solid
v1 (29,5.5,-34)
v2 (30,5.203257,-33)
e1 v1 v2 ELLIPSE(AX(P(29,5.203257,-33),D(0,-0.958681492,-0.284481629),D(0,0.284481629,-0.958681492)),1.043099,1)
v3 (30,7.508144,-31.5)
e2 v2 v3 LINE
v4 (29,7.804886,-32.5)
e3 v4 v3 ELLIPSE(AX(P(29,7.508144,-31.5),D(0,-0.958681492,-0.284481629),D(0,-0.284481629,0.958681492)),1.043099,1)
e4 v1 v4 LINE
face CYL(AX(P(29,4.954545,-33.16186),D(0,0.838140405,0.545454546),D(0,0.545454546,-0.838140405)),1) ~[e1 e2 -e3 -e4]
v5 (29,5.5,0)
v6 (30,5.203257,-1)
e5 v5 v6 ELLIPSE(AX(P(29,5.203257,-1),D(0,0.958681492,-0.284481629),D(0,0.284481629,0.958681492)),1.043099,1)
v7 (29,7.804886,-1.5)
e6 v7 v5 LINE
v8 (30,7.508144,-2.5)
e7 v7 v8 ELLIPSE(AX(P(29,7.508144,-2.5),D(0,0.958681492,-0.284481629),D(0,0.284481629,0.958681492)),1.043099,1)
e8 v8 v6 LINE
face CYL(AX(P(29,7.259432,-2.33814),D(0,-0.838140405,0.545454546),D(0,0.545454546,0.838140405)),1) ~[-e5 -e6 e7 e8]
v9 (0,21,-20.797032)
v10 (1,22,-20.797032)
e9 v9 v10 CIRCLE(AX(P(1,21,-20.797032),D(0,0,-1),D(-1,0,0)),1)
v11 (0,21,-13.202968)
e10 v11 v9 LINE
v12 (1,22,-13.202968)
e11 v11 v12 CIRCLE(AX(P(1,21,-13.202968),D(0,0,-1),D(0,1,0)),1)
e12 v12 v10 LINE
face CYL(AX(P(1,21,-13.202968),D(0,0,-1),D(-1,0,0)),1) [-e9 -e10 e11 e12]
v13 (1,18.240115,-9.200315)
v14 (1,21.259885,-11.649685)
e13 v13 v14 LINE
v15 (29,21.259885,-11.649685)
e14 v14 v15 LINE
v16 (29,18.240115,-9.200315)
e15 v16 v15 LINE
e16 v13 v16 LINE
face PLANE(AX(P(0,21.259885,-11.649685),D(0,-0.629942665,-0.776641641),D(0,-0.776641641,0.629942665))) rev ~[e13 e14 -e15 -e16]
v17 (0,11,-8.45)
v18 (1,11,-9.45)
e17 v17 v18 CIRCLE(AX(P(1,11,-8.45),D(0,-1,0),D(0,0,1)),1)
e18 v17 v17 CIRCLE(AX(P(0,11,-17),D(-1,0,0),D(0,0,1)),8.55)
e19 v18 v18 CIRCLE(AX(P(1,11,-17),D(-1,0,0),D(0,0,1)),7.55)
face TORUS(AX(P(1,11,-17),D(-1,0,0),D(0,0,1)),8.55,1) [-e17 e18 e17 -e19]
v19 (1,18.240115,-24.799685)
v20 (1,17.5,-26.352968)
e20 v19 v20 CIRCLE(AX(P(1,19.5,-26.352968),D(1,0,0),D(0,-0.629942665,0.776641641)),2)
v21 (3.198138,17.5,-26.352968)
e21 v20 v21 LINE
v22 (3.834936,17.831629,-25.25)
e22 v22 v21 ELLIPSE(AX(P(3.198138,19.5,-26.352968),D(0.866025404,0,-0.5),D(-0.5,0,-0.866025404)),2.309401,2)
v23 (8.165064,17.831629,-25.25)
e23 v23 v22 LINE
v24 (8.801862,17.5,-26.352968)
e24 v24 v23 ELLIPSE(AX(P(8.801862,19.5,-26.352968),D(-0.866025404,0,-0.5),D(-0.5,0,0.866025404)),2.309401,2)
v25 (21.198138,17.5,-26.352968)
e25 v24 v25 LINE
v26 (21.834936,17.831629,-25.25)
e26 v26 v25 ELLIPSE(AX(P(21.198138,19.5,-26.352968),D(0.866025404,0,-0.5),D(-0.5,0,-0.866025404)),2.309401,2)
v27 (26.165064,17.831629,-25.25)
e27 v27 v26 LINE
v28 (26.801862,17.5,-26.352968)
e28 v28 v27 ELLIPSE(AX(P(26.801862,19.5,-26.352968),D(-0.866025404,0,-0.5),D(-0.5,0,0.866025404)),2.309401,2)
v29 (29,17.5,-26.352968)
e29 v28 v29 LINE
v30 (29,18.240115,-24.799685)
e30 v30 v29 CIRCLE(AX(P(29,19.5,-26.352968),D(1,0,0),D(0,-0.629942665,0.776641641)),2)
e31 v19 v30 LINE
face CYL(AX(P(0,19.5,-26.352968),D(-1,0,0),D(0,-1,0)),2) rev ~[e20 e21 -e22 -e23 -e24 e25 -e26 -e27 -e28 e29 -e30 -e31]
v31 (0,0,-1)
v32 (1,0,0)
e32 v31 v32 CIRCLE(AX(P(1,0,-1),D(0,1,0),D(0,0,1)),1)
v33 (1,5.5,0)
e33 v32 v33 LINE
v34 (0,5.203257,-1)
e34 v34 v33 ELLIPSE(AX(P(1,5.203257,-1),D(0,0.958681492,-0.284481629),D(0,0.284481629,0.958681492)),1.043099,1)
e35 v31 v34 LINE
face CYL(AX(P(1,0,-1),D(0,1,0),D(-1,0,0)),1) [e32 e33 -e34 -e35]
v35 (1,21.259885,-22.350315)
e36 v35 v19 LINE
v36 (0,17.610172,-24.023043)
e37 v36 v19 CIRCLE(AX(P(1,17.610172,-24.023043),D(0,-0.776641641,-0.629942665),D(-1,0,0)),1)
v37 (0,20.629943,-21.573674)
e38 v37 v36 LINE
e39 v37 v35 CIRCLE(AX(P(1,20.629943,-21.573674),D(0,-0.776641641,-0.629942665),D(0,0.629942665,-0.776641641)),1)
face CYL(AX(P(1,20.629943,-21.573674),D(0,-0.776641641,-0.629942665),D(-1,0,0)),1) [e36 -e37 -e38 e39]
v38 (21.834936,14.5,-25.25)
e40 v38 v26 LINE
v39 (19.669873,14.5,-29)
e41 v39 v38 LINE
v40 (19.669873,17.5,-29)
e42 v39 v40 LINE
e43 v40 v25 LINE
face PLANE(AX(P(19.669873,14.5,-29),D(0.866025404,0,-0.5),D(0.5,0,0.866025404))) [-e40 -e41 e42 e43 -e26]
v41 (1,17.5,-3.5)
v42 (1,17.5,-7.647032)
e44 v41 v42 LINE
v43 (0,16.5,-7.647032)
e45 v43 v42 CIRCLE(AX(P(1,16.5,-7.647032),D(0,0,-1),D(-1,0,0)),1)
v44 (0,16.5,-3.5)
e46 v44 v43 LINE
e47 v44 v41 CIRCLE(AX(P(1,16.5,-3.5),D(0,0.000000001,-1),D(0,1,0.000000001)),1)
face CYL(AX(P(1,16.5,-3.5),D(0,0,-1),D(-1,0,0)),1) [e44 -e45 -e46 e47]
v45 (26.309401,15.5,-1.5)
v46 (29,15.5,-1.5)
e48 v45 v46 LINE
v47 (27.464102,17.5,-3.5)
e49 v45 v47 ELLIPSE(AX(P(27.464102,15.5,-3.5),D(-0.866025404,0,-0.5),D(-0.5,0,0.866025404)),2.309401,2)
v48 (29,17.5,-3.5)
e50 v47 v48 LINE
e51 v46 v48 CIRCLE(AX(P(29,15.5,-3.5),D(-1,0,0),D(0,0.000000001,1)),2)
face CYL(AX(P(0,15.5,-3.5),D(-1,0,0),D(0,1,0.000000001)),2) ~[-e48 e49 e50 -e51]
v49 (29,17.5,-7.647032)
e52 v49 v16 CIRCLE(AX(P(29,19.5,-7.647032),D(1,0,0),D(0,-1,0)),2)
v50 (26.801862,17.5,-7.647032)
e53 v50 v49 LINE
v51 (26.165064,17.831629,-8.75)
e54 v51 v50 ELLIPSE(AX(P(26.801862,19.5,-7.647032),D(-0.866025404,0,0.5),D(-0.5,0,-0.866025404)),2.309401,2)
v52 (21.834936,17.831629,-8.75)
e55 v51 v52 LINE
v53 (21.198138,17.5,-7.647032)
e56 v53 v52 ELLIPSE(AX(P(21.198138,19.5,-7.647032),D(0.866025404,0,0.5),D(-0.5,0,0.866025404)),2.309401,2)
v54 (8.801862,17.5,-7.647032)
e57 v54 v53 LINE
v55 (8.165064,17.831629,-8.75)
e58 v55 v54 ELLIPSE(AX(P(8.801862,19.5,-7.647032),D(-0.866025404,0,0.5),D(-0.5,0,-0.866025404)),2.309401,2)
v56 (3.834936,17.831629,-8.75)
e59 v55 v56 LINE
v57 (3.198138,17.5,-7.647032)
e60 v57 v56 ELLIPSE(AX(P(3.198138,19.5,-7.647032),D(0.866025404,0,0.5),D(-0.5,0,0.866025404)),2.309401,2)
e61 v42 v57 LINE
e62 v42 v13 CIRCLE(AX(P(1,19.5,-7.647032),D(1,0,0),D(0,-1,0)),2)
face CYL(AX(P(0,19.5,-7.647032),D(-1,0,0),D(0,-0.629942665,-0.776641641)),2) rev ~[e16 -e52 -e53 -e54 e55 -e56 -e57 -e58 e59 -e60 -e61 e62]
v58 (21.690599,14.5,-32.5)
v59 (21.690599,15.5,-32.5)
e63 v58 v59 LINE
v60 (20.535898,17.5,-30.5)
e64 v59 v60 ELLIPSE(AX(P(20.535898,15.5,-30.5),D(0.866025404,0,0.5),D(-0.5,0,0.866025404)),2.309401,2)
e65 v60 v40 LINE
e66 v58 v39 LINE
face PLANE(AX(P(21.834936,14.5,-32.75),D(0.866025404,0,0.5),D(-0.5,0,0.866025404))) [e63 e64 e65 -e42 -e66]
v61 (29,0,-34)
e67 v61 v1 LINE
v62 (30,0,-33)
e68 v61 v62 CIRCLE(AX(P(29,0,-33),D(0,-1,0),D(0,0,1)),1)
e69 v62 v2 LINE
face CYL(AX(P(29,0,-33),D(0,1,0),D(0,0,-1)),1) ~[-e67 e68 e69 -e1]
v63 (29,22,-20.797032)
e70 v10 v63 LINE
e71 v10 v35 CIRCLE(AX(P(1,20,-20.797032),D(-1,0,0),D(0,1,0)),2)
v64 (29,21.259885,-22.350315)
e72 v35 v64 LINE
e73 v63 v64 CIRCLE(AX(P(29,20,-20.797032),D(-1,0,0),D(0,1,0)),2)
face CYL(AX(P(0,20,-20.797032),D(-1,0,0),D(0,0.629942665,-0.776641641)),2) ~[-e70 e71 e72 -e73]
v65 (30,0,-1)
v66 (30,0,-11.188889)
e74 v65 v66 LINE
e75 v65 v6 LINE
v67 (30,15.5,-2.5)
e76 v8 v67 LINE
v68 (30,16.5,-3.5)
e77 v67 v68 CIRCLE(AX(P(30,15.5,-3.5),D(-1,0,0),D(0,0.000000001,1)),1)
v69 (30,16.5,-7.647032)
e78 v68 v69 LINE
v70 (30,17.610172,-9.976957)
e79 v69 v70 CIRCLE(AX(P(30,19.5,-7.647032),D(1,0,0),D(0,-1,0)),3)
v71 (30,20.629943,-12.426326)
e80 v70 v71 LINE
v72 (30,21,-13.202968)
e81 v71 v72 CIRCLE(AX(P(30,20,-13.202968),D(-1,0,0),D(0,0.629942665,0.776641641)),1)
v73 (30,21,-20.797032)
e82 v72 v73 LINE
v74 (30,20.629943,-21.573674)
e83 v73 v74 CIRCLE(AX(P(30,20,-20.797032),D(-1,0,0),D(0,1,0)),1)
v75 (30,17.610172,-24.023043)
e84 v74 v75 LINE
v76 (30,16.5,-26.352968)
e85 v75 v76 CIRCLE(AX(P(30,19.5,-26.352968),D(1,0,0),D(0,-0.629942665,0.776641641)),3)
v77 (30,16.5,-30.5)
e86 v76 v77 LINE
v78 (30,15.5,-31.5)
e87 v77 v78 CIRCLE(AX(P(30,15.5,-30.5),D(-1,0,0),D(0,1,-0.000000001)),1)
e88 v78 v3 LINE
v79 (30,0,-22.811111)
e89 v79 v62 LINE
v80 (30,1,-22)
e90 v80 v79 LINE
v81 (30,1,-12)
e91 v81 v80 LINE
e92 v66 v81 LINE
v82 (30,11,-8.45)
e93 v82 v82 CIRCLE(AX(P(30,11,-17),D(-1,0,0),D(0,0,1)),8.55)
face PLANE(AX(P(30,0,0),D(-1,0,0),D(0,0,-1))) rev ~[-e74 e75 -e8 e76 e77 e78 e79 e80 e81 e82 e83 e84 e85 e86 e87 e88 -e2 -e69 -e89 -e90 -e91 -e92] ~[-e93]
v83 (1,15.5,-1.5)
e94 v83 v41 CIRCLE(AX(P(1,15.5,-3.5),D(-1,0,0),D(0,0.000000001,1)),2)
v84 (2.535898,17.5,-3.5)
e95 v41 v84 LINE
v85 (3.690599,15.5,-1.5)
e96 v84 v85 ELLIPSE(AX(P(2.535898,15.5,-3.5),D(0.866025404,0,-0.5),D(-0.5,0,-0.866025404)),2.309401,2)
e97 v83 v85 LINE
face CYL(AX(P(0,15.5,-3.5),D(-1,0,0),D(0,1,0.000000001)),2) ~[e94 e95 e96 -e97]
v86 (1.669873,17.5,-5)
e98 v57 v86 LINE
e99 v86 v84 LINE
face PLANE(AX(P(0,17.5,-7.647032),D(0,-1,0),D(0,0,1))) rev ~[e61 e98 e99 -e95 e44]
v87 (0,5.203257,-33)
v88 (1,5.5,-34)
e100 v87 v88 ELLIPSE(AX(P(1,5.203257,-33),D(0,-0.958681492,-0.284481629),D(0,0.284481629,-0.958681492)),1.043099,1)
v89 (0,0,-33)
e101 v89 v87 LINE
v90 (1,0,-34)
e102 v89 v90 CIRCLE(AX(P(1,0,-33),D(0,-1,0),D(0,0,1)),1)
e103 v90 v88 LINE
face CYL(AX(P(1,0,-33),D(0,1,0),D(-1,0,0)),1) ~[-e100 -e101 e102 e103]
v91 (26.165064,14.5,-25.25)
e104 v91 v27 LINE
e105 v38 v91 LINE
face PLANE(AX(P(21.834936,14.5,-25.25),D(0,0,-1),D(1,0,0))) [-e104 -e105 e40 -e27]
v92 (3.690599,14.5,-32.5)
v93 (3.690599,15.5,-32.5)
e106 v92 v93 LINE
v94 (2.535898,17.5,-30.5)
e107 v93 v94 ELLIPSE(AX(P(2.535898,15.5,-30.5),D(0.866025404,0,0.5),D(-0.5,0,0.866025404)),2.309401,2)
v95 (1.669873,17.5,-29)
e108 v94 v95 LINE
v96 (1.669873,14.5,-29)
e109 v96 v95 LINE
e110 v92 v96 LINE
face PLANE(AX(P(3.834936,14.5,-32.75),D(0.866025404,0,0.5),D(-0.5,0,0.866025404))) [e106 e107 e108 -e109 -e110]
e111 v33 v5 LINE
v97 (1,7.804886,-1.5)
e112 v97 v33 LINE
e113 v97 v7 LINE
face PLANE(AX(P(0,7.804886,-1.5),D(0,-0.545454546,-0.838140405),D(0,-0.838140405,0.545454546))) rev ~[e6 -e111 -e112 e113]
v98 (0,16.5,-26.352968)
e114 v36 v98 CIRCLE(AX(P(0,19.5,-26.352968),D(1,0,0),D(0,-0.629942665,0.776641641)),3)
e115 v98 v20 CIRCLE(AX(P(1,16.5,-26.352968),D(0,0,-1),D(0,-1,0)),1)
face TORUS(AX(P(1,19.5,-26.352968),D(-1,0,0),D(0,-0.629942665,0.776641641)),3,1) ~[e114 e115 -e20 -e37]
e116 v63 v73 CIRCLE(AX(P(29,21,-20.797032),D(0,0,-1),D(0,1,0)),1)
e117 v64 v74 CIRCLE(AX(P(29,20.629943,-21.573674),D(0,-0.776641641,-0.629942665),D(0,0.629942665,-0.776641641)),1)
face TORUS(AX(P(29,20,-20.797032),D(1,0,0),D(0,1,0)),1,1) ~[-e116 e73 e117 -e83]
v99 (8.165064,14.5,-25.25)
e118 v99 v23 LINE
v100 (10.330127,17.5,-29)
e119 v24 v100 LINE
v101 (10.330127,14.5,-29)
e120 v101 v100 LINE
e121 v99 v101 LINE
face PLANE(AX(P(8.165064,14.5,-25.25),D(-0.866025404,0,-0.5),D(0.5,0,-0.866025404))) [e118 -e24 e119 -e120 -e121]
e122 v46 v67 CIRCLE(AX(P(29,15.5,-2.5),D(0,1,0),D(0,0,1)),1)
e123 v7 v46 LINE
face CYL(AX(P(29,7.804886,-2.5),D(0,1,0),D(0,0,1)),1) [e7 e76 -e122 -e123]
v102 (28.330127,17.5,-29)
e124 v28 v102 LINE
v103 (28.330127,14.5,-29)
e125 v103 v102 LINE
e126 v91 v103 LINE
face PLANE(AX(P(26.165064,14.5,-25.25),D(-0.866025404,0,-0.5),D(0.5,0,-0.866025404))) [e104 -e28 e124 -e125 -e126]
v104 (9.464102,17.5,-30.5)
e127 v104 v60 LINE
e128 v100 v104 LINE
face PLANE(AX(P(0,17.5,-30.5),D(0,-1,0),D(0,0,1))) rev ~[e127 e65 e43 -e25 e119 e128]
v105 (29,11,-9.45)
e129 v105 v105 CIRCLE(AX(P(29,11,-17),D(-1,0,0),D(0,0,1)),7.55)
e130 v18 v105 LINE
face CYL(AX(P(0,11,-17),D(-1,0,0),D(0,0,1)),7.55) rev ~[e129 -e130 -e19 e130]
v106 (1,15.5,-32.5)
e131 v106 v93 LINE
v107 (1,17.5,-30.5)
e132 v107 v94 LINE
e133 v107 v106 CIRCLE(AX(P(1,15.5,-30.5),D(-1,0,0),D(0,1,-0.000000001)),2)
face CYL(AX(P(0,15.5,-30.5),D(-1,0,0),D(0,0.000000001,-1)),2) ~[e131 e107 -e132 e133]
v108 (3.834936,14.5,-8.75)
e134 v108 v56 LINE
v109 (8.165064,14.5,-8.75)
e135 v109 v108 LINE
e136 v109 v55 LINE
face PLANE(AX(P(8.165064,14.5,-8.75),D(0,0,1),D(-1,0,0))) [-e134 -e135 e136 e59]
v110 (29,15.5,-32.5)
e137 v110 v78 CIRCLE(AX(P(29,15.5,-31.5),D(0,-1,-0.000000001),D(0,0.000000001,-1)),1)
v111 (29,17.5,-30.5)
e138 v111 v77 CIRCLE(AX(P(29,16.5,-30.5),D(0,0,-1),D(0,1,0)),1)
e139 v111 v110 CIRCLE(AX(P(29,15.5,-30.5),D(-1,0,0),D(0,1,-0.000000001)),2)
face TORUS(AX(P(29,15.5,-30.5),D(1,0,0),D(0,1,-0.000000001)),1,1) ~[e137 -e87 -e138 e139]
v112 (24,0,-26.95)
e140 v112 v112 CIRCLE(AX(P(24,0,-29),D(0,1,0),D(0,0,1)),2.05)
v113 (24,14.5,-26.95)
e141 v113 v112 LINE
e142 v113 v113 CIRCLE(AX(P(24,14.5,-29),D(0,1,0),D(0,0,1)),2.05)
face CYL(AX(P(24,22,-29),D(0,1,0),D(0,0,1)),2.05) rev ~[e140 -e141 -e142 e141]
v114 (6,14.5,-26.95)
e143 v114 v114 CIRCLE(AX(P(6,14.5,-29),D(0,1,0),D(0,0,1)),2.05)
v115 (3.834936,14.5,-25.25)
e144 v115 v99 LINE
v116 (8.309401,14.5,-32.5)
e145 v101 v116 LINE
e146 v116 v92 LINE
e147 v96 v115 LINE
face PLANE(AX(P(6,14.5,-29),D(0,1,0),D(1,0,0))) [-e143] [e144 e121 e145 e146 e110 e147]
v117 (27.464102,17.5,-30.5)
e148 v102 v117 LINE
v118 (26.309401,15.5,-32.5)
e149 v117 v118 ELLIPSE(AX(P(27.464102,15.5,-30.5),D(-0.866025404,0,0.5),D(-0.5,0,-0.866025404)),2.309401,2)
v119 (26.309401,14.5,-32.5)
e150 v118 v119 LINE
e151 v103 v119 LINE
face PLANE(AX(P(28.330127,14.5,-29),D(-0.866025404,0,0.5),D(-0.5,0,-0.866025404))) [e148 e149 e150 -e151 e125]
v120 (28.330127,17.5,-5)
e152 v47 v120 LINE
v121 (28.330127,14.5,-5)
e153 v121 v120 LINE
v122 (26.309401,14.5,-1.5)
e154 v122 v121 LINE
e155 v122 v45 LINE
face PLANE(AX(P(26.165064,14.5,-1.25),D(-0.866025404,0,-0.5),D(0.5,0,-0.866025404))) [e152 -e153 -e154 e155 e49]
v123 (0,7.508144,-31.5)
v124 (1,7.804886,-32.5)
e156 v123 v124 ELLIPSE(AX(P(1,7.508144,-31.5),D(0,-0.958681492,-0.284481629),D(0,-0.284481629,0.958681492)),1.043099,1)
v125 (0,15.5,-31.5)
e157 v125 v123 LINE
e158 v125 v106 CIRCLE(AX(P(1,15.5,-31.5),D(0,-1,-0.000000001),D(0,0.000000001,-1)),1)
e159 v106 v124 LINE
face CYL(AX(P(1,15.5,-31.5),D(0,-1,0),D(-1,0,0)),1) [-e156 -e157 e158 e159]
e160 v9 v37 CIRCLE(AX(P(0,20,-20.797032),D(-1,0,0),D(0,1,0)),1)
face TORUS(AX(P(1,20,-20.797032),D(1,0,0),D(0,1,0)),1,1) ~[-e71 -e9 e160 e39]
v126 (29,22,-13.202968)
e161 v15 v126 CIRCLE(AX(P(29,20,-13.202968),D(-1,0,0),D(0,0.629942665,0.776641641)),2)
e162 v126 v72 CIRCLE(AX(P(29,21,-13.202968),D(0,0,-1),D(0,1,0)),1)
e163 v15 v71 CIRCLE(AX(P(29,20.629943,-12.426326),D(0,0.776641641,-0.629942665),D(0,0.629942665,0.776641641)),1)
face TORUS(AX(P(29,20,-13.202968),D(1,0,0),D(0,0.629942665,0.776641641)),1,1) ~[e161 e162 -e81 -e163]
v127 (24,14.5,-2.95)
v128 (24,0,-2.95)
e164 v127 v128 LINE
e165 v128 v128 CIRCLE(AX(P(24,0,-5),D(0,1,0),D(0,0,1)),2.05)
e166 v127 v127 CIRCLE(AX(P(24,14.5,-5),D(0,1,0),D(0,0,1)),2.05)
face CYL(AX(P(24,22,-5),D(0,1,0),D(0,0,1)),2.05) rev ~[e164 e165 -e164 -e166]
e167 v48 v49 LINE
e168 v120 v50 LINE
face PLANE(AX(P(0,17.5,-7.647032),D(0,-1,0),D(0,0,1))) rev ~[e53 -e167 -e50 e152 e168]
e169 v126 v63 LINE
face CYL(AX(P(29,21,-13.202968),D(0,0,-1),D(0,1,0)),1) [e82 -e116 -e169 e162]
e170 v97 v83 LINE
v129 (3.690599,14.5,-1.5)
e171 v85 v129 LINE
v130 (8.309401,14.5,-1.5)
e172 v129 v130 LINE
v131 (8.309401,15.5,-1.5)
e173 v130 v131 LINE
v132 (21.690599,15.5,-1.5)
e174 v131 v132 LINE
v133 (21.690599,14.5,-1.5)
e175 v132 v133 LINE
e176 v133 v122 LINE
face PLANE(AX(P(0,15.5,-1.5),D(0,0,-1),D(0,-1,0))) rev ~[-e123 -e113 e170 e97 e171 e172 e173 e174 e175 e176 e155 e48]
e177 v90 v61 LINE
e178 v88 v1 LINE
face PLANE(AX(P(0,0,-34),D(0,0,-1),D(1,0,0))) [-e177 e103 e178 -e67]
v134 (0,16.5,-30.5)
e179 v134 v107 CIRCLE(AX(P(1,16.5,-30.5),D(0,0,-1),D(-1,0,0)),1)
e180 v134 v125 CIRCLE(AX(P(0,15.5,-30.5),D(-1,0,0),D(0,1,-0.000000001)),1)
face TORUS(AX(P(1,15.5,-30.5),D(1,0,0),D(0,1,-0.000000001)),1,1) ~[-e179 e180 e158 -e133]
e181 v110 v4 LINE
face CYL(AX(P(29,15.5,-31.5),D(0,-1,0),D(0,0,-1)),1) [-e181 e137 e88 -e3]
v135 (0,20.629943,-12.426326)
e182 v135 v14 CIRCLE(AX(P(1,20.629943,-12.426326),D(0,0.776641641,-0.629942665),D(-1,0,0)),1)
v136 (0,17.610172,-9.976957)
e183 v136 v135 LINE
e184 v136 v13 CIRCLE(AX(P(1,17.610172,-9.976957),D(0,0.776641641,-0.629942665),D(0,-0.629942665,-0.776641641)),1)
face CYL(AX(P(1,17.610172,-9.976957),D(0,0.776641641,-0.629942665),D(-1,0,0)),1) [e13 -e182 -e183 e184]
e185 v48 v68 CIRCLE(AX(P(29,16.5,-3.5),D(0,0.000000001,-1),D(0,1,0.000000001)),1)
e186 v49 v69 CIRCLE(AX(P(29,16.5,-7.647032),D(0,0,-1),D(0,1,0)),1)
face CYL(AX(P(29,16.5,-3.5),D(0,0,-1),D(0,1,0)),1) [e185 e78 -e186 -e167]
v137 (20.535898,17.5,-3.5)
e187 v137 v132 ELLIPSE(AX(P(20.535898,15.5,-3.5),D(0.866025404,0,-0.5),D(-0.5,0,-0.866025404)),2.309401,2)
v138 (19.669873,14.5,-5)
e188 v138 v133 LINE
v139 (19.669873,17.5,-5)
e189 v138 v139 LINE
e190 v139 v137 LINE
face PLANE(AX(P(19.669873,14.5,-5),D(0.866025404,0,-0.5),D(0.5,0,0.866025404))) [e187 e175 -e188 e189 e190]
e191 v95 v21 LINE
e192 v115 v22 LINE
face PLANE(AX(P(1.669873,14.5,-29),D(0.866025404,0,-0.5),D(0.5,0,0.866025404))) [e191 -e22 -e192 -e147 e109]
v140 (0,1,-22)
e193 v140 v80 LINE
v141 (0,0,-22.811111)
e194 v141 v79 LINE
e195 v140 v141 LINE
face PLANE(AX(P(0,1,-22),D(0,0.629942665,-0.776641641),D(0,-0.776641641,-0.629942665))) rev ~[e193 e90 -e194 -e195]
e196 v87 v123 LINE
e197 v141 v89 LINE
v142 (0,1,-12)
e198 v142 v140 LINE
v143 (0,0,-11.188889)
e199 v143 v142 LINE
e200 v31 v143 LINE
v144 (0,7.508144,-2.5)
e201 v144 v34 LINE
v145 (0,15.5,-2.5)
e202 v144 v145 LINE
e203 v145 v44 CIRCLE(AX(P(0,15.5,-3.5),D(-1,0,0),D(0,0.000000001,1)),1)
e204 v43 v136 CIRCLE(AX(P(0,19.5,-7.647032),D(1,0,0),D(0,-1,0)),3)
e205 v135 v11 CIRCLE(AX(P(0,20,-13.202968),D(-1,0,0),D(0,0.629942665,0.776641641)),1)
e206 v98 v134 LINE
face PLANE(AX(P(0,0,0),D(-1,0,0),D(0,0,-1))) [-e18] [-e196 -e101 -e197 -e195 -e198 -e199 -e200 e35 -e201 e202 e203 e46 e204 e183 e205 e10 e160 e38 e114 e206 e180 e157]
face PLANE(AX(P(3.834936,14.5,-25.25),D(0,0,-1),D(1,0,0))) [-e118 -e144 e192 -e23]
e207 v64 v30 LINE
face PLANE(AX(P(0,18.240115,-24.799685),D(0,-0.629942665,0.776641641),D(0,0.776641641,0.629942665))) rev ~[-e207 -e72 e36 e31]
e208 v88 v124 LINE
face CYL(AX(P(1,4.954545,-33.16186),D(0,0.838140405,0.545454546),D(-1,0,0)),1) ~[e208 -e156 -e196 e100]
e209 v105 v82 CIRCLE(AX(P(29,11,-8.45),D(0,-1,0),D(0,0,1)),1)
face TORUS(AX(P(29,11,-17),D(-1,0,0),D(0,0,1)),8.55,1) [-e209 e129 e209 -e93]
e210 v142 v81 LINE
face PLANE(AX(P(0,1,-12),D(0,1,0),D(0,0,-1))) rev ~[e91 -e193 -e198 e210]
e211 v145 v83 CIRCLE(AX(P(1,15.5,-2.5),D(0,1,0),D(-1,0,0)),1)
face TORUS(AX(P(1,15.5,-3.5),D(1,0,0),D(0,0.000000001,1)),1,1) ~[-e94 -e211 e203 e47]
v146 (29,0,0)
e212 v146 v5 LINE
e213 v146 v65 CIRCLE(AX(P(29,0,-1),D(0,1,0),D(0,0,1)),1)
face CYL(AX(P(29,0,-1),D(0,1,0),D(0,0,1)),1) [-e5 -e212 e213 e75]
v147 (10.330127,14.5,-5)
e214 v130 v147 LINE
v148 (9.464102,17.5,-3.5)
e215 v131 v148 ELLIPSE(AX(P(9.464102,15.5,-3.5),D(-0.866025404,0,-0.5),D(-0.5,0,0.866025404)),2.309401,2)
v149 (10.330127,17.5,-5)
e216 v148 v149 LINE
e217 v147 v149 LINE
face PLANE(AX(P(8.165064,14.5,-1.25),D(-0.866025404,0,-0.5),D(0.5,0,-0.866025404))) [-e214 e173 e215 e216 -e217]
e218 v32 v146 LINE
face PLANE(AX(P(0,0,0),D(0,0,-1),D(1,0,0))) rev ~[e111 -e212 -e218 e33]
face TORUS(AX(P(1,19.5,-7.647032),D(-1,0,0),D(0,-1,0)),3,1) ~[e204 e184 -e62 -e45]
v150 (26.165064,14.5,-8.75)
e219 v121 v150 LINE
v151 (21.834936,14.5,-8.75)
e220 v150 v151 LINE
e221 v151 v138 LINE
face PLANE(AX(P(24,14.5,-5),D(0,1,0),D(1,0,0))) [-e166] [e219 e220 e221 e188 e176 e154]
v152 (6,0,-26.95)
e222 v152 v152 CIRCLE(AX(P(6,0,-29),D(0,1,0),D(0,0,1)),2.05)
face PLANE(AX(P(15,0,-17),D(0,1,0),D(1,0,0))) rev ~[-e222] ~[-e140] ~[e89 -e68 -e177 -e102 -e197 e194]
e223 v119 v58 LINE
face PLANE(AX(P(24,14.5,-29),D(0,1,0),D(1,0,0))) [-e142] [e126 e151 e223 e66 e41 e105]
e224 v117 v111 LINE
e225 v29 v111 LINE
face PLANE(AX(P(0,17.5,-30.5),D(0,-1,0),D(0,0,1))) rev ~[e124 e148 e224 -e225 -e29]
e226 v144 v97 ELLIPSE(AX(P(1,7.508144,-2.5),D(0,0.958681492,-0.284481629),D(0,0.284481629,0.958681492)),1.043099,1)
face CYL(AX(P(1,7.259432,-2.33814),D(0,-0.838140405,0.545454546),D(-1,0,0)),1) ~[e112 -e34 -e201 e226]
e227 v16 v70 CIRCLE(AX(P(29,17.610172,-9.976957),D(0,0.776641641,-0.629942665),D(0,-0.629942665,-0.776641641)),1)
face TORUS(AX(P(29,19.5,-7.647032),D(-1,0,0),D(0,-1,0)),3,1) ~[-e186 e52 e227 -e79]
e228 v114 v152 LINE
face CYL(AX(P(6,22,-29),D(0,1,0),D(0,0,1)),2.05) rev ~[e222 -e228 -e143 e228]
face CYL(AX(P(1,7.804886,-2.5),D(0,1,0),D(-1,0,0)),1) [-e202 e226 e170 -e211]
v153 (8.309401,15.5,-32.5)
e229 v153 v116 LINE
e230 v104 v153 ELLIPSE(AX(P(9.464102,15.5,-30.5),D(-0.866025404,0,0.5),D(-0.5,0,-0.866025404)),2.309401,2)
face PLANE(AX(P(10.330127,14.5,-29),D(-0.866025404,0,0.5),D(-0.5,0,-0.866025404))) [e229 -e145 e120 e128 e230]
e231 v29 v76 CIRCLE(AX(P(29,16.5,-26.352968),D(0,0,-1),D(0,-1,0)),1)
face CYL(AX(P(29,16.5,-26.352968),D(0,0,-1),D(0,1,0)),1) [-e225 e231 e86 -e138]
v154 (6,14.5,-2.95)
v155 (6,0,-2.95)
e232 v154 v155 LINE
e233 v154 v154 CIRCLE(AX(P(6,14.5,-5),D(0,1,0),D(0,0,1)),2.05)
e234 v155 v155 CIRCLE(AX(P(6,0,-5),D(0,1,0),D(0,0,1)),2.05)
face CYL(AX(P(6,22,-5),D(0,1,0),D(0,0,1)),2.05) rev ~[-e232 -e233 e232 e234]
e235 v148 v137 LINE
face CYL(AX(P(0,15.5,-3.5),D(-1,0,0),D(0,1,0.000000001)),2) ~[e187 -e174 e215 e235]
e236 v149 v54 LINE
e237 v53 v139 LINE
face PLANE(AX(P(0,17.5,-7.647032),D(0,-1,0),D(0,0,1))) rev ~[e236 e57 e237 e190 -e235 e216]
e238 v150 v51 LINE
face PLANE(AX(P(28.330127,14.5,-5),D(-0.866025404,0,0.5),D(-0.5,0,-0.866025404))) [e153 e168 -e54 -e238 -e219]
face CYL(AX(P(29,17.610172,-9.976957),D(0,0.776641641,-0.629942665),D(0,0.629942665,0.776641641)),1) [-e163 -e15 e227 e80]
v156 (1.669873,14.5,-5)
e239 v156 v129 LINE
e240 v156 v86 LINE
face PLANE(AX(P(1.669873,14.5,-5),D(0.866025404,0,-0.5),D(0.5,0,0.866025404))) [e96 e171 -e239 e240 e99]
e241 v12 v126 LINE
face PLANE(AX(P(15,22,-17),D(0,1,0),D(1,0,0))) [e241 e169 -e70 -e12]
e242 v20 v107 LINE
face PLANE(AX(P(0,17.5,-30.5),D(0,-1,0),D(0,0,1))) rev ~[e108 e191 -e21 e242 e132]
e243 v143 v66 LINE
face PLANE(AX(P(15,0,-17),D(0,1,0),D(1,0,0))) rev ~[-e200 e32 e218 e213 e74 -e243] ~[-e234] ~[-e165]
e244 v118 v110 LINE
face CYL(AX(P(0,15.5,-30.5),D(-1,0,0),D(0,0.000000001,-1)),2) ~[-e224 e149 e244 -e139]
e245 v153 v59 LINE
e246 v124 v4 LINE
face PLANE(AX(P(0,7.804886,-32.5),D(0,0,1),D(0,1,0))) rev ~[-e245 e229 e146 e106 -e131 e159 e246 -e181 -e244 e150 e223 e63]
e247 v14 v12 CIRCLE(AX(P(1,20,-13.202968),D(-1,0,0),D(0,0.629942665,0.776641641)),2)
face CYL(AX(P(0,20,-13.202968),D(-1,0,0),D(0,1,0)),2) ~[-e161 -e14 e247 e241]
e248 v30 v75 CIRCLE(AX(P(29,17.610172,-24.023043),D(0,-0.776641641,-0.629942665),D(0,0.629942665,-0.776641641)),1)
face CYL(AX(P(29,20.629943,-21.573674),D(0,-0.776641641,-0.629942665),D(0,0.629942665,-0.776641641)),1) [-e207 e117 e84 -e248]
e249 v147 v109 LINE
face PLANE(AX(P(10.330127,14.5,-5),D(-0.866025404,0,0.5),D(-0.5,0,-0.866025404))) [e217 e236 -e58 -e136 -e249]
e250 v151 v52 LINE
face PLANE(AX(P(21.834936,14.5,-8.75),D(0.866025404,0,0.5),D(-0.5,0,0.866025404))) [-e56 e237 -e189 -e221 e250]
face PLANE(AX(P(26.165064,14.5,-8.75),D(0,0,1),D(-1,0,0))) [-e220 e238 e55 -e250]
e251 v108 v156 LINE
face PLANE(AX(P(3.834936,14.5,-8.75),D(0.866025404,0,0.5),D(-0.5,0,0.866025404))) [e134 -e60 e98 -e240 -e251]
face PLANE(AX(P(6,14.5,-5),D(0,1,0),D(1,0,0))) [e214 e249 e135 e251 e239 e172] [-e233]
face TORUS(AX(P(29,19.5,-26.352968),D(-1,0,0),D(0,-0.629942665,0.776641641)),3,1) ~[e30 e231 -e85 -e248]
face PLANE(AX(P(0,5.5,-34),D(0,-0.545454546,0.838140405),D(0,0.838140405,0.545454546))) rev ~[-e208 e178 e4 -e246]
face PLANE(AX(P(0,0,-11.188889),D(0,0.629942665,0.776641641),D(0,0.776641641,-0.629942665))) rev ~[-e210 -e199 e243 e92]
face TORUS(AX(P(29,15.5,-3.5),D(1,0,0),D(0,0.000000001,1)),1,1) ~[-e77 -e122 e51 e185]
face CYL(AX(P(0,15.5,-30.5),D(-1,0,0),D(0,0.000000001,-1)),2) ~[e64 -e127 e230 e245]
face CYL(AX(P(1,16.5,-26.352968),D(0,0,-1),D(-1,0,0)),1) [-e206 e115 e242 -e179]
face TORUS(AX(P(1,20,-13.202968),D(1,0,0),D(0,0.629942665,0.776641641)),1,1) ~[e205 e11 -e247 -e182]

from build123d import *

# Parameters (mm, degrees)
SKETCH1_W               = 30
SKETCH1_H               = 34
BOSS_EXTRUDE1_DEPTH     = 22
SKETCH2_R               = 2.05
CUT_EXTRUDE1_DEPTH      = 22
SKETCH3_R               = 7.55
CUT_EXTRUDE2_DEPTH      = 51.398412673
CUT_EXTRUDE3_DEPTH      = 3
CUT_EXTRUDE3_DEPTH_BACK = 3
FILLET1_R               = 1


with BuildPart() as part:
    # Sketch1 → Boss-Extrude1 (new body)
    with BuildSketch(Plane(origin=(0, 0, 0), x_dir=(1, 0, 0), z_dir=(0, 1, 0))):
        with Locations((15, 17)):
            Rectangle(SKETCH1_W, SKETCH1_H)
    extrude(amount=BOSS_EXTRUDE1_DEPTH)

    # Sketch2 → Cut-Extrude1 (cut)
    with BuildSketch(Plane(origin=(0, 22, 0), x_dir=(1, 0, 0), z_dir=(0, 1, 0))):
        with Locations(Location((6, 29, 0), (0, 0, 270))):
            Circle(SKETCH2_R)
        with Locations(Location((24, 29, 0), (0, 0, 270))):
            Circle(SKETCH2_R)
        with Locations(Location((24, 5, 0), (0, 0, 270))):
            Circle(SKETCH2_R)
        with Locations(Location((6, 5, 0), (0, 0, 270))):
            Circle(SKETCH2_R)
    extrude(amount=-CUT_EXTRUDE1_DEPTH, mode=Mode.SUBTRACT)

    # Sketch3 → Cut-Extrude2 (cut, through all)
    with BuildSketch(Plane.ZY):
        with BuildLine():
            Line((-34, 22), (-34, 5.5))
            Line((-34, 5.5), (-32.5, 7.804886114))
            Line((-32.5, 7.804886114), (-32.5, 15.5))
            ThreePointArc((-32.5, 15.5), (-31.914213562, 16.914213562), (-30.5, 17.5))
            Line((-30.5, 17.5), (-26.35296805, 17.5))
            ThreePointArc((-26.35296805, 17.5), (-25.492668875, 17.694484747), (-24.799684767, 18.240114671))
            Line((-24.799684767, 18.240114671), (-22.350315233, 21.259885329))
            ThreePointArc((-22.350315233, 21.259885329), (-21.657331125, 21.805515253), (-20.79703195, 22))
            Line((-20.79703195, 22), (-34, 22))
        make_face()
        with BuildLine():
            Line((0, 22), (-13.20296805, 22))
            ThreePointArc((-13.20296805, 22), (-12.342668875, 21.805515253), (-11.649684767, 21.259885329))
            Line((-11.649684767, 21.259885329), (-9.200315233, 18.240114671))
            ThreePointArc((-9.200315233, 18.240114671), (-8.507331125, 17.694484747), (-7.64703195, 17.5))
            Line((-7.64703195, 17.5), (-3.5, 17.5))
            ThreePointArc((-3.5, 17.5), (-2.085786438, 16.914213562), (-1.5, 15.5))
            Line((-1.5, 15.5), (-1.5, 7.804886114))
            Line((-1.5, 7.804886114), (0, 5.5))
            Line((0, 5.5), (0, 22))
        make_face()
        with Locations((-17, 11)):
            Circle(SKETCH3_R)
        Polygon((-22, 1), (-22.811111111, 0), (-11.188888889, 0), (-12, 1), align=None)
    extrude(amount=-CUT_EXTRUDE2_DEPTH, mode=Mode.SUBTRACT)

    # Sketch4 → Cut-Extrude3 (cut, two sides: drawn at the far end of the back side and taken through both)
    with BuildSketch(Plane(origin=(0, 17.5, 0), x_dir=(1, 0, 0), z_dir=(0, 1, 0)).offset(-CUT_EXTRUDE3_DEPTH_BACK)):
        Polygon((8.165063509, 32.75), (3.834936491, 32.75), (1.669872981, 29), (3.834936491, 25.25), (8.165063509, 25.25), (10.330127019, 29), align=None)
        Polygon((26.165063509, 32.75), (21.834936491, 32.75), (19.669872981, 29), (21.834936491, 25.25), (26.165063509, 25.25), (28.330127019, 29), align=None)
        Polygon((21.834936491, 1.25), (26.165063509, 1.25), (28.330127019, 5), (26.165063509, 8.75), (21.834936491, 8.75), (19.669872981, 5), align=None)
        Polygon((8.165063509, 1.25), (10.330127019, 5), (8.165063509, 8.75), (3.834936491, 8.75), (1.669872981, 5), (3.834936491, 1.25), align=None)
    extrude(amount=CUT_EXTRUDE3_DEPTH + CUT_EXTRUDE3_DEPTH_BACK, mode=Mode.SUBTRACT)

    # Fillet1
    fillet1_edges = [part.edges().sort_by_distance(p)[0] for p in [
        (0, 22, -17),
        (30, 22, -17),
        (0, 2.75, -34),
        (30, 2.75, -34),
        (30, 2.75, 0),
        (0, 2.75, 0),
        (0, 16.914213562, -2.085786438),
        (30, 17.5, -5.573515975),
        (0, 21.805515253, -12.342668875),
        (0, 6.652443057, -0.75),
        (0, 11.652443057, -1.5),
        (0, 17.694484747, -8.507331125),
        (30, 19.75, -10.425),
        (30, 21.805515253, -12.342668875),
        (30, 6.652443057, -0.75),
        (30, 11.652443057, -1.5),
        (30, 16.914213562, -2.085786438),
        (30, 17.694484747, -8.507331125),
        (0, 19.75, -10.425),
        (0, 17.5, -5.573515975),
        (30, 11, -24.55),
        (0, 11, -24.55),
        (30, 17.5, -28.426484025),
        (30, 16.914213562, -31.914213562),
        (0, 21.805515253, -21.657331125),
        (30, 19.75, -23.575),
        (30, 17.694484747, -25.492668875),
        (30, 11.652443057, -32.5),
        (30, 6.652443057, -33.25),
        (30, 21.805515253, -21.657331125),
        (0, 6.652443057, -33.25),
        (0, 11.652443057, -32.5),
        (0, 16.914213562, -31.914213562),
        (0, 17.5, -28.426484025),
        (0, 17.694484747, -25.492668875),
        (0, 19.75, -23.575),
    ]]
    fillet(fillet1_edges, radius=FILLET1_R)


solid = part.part
